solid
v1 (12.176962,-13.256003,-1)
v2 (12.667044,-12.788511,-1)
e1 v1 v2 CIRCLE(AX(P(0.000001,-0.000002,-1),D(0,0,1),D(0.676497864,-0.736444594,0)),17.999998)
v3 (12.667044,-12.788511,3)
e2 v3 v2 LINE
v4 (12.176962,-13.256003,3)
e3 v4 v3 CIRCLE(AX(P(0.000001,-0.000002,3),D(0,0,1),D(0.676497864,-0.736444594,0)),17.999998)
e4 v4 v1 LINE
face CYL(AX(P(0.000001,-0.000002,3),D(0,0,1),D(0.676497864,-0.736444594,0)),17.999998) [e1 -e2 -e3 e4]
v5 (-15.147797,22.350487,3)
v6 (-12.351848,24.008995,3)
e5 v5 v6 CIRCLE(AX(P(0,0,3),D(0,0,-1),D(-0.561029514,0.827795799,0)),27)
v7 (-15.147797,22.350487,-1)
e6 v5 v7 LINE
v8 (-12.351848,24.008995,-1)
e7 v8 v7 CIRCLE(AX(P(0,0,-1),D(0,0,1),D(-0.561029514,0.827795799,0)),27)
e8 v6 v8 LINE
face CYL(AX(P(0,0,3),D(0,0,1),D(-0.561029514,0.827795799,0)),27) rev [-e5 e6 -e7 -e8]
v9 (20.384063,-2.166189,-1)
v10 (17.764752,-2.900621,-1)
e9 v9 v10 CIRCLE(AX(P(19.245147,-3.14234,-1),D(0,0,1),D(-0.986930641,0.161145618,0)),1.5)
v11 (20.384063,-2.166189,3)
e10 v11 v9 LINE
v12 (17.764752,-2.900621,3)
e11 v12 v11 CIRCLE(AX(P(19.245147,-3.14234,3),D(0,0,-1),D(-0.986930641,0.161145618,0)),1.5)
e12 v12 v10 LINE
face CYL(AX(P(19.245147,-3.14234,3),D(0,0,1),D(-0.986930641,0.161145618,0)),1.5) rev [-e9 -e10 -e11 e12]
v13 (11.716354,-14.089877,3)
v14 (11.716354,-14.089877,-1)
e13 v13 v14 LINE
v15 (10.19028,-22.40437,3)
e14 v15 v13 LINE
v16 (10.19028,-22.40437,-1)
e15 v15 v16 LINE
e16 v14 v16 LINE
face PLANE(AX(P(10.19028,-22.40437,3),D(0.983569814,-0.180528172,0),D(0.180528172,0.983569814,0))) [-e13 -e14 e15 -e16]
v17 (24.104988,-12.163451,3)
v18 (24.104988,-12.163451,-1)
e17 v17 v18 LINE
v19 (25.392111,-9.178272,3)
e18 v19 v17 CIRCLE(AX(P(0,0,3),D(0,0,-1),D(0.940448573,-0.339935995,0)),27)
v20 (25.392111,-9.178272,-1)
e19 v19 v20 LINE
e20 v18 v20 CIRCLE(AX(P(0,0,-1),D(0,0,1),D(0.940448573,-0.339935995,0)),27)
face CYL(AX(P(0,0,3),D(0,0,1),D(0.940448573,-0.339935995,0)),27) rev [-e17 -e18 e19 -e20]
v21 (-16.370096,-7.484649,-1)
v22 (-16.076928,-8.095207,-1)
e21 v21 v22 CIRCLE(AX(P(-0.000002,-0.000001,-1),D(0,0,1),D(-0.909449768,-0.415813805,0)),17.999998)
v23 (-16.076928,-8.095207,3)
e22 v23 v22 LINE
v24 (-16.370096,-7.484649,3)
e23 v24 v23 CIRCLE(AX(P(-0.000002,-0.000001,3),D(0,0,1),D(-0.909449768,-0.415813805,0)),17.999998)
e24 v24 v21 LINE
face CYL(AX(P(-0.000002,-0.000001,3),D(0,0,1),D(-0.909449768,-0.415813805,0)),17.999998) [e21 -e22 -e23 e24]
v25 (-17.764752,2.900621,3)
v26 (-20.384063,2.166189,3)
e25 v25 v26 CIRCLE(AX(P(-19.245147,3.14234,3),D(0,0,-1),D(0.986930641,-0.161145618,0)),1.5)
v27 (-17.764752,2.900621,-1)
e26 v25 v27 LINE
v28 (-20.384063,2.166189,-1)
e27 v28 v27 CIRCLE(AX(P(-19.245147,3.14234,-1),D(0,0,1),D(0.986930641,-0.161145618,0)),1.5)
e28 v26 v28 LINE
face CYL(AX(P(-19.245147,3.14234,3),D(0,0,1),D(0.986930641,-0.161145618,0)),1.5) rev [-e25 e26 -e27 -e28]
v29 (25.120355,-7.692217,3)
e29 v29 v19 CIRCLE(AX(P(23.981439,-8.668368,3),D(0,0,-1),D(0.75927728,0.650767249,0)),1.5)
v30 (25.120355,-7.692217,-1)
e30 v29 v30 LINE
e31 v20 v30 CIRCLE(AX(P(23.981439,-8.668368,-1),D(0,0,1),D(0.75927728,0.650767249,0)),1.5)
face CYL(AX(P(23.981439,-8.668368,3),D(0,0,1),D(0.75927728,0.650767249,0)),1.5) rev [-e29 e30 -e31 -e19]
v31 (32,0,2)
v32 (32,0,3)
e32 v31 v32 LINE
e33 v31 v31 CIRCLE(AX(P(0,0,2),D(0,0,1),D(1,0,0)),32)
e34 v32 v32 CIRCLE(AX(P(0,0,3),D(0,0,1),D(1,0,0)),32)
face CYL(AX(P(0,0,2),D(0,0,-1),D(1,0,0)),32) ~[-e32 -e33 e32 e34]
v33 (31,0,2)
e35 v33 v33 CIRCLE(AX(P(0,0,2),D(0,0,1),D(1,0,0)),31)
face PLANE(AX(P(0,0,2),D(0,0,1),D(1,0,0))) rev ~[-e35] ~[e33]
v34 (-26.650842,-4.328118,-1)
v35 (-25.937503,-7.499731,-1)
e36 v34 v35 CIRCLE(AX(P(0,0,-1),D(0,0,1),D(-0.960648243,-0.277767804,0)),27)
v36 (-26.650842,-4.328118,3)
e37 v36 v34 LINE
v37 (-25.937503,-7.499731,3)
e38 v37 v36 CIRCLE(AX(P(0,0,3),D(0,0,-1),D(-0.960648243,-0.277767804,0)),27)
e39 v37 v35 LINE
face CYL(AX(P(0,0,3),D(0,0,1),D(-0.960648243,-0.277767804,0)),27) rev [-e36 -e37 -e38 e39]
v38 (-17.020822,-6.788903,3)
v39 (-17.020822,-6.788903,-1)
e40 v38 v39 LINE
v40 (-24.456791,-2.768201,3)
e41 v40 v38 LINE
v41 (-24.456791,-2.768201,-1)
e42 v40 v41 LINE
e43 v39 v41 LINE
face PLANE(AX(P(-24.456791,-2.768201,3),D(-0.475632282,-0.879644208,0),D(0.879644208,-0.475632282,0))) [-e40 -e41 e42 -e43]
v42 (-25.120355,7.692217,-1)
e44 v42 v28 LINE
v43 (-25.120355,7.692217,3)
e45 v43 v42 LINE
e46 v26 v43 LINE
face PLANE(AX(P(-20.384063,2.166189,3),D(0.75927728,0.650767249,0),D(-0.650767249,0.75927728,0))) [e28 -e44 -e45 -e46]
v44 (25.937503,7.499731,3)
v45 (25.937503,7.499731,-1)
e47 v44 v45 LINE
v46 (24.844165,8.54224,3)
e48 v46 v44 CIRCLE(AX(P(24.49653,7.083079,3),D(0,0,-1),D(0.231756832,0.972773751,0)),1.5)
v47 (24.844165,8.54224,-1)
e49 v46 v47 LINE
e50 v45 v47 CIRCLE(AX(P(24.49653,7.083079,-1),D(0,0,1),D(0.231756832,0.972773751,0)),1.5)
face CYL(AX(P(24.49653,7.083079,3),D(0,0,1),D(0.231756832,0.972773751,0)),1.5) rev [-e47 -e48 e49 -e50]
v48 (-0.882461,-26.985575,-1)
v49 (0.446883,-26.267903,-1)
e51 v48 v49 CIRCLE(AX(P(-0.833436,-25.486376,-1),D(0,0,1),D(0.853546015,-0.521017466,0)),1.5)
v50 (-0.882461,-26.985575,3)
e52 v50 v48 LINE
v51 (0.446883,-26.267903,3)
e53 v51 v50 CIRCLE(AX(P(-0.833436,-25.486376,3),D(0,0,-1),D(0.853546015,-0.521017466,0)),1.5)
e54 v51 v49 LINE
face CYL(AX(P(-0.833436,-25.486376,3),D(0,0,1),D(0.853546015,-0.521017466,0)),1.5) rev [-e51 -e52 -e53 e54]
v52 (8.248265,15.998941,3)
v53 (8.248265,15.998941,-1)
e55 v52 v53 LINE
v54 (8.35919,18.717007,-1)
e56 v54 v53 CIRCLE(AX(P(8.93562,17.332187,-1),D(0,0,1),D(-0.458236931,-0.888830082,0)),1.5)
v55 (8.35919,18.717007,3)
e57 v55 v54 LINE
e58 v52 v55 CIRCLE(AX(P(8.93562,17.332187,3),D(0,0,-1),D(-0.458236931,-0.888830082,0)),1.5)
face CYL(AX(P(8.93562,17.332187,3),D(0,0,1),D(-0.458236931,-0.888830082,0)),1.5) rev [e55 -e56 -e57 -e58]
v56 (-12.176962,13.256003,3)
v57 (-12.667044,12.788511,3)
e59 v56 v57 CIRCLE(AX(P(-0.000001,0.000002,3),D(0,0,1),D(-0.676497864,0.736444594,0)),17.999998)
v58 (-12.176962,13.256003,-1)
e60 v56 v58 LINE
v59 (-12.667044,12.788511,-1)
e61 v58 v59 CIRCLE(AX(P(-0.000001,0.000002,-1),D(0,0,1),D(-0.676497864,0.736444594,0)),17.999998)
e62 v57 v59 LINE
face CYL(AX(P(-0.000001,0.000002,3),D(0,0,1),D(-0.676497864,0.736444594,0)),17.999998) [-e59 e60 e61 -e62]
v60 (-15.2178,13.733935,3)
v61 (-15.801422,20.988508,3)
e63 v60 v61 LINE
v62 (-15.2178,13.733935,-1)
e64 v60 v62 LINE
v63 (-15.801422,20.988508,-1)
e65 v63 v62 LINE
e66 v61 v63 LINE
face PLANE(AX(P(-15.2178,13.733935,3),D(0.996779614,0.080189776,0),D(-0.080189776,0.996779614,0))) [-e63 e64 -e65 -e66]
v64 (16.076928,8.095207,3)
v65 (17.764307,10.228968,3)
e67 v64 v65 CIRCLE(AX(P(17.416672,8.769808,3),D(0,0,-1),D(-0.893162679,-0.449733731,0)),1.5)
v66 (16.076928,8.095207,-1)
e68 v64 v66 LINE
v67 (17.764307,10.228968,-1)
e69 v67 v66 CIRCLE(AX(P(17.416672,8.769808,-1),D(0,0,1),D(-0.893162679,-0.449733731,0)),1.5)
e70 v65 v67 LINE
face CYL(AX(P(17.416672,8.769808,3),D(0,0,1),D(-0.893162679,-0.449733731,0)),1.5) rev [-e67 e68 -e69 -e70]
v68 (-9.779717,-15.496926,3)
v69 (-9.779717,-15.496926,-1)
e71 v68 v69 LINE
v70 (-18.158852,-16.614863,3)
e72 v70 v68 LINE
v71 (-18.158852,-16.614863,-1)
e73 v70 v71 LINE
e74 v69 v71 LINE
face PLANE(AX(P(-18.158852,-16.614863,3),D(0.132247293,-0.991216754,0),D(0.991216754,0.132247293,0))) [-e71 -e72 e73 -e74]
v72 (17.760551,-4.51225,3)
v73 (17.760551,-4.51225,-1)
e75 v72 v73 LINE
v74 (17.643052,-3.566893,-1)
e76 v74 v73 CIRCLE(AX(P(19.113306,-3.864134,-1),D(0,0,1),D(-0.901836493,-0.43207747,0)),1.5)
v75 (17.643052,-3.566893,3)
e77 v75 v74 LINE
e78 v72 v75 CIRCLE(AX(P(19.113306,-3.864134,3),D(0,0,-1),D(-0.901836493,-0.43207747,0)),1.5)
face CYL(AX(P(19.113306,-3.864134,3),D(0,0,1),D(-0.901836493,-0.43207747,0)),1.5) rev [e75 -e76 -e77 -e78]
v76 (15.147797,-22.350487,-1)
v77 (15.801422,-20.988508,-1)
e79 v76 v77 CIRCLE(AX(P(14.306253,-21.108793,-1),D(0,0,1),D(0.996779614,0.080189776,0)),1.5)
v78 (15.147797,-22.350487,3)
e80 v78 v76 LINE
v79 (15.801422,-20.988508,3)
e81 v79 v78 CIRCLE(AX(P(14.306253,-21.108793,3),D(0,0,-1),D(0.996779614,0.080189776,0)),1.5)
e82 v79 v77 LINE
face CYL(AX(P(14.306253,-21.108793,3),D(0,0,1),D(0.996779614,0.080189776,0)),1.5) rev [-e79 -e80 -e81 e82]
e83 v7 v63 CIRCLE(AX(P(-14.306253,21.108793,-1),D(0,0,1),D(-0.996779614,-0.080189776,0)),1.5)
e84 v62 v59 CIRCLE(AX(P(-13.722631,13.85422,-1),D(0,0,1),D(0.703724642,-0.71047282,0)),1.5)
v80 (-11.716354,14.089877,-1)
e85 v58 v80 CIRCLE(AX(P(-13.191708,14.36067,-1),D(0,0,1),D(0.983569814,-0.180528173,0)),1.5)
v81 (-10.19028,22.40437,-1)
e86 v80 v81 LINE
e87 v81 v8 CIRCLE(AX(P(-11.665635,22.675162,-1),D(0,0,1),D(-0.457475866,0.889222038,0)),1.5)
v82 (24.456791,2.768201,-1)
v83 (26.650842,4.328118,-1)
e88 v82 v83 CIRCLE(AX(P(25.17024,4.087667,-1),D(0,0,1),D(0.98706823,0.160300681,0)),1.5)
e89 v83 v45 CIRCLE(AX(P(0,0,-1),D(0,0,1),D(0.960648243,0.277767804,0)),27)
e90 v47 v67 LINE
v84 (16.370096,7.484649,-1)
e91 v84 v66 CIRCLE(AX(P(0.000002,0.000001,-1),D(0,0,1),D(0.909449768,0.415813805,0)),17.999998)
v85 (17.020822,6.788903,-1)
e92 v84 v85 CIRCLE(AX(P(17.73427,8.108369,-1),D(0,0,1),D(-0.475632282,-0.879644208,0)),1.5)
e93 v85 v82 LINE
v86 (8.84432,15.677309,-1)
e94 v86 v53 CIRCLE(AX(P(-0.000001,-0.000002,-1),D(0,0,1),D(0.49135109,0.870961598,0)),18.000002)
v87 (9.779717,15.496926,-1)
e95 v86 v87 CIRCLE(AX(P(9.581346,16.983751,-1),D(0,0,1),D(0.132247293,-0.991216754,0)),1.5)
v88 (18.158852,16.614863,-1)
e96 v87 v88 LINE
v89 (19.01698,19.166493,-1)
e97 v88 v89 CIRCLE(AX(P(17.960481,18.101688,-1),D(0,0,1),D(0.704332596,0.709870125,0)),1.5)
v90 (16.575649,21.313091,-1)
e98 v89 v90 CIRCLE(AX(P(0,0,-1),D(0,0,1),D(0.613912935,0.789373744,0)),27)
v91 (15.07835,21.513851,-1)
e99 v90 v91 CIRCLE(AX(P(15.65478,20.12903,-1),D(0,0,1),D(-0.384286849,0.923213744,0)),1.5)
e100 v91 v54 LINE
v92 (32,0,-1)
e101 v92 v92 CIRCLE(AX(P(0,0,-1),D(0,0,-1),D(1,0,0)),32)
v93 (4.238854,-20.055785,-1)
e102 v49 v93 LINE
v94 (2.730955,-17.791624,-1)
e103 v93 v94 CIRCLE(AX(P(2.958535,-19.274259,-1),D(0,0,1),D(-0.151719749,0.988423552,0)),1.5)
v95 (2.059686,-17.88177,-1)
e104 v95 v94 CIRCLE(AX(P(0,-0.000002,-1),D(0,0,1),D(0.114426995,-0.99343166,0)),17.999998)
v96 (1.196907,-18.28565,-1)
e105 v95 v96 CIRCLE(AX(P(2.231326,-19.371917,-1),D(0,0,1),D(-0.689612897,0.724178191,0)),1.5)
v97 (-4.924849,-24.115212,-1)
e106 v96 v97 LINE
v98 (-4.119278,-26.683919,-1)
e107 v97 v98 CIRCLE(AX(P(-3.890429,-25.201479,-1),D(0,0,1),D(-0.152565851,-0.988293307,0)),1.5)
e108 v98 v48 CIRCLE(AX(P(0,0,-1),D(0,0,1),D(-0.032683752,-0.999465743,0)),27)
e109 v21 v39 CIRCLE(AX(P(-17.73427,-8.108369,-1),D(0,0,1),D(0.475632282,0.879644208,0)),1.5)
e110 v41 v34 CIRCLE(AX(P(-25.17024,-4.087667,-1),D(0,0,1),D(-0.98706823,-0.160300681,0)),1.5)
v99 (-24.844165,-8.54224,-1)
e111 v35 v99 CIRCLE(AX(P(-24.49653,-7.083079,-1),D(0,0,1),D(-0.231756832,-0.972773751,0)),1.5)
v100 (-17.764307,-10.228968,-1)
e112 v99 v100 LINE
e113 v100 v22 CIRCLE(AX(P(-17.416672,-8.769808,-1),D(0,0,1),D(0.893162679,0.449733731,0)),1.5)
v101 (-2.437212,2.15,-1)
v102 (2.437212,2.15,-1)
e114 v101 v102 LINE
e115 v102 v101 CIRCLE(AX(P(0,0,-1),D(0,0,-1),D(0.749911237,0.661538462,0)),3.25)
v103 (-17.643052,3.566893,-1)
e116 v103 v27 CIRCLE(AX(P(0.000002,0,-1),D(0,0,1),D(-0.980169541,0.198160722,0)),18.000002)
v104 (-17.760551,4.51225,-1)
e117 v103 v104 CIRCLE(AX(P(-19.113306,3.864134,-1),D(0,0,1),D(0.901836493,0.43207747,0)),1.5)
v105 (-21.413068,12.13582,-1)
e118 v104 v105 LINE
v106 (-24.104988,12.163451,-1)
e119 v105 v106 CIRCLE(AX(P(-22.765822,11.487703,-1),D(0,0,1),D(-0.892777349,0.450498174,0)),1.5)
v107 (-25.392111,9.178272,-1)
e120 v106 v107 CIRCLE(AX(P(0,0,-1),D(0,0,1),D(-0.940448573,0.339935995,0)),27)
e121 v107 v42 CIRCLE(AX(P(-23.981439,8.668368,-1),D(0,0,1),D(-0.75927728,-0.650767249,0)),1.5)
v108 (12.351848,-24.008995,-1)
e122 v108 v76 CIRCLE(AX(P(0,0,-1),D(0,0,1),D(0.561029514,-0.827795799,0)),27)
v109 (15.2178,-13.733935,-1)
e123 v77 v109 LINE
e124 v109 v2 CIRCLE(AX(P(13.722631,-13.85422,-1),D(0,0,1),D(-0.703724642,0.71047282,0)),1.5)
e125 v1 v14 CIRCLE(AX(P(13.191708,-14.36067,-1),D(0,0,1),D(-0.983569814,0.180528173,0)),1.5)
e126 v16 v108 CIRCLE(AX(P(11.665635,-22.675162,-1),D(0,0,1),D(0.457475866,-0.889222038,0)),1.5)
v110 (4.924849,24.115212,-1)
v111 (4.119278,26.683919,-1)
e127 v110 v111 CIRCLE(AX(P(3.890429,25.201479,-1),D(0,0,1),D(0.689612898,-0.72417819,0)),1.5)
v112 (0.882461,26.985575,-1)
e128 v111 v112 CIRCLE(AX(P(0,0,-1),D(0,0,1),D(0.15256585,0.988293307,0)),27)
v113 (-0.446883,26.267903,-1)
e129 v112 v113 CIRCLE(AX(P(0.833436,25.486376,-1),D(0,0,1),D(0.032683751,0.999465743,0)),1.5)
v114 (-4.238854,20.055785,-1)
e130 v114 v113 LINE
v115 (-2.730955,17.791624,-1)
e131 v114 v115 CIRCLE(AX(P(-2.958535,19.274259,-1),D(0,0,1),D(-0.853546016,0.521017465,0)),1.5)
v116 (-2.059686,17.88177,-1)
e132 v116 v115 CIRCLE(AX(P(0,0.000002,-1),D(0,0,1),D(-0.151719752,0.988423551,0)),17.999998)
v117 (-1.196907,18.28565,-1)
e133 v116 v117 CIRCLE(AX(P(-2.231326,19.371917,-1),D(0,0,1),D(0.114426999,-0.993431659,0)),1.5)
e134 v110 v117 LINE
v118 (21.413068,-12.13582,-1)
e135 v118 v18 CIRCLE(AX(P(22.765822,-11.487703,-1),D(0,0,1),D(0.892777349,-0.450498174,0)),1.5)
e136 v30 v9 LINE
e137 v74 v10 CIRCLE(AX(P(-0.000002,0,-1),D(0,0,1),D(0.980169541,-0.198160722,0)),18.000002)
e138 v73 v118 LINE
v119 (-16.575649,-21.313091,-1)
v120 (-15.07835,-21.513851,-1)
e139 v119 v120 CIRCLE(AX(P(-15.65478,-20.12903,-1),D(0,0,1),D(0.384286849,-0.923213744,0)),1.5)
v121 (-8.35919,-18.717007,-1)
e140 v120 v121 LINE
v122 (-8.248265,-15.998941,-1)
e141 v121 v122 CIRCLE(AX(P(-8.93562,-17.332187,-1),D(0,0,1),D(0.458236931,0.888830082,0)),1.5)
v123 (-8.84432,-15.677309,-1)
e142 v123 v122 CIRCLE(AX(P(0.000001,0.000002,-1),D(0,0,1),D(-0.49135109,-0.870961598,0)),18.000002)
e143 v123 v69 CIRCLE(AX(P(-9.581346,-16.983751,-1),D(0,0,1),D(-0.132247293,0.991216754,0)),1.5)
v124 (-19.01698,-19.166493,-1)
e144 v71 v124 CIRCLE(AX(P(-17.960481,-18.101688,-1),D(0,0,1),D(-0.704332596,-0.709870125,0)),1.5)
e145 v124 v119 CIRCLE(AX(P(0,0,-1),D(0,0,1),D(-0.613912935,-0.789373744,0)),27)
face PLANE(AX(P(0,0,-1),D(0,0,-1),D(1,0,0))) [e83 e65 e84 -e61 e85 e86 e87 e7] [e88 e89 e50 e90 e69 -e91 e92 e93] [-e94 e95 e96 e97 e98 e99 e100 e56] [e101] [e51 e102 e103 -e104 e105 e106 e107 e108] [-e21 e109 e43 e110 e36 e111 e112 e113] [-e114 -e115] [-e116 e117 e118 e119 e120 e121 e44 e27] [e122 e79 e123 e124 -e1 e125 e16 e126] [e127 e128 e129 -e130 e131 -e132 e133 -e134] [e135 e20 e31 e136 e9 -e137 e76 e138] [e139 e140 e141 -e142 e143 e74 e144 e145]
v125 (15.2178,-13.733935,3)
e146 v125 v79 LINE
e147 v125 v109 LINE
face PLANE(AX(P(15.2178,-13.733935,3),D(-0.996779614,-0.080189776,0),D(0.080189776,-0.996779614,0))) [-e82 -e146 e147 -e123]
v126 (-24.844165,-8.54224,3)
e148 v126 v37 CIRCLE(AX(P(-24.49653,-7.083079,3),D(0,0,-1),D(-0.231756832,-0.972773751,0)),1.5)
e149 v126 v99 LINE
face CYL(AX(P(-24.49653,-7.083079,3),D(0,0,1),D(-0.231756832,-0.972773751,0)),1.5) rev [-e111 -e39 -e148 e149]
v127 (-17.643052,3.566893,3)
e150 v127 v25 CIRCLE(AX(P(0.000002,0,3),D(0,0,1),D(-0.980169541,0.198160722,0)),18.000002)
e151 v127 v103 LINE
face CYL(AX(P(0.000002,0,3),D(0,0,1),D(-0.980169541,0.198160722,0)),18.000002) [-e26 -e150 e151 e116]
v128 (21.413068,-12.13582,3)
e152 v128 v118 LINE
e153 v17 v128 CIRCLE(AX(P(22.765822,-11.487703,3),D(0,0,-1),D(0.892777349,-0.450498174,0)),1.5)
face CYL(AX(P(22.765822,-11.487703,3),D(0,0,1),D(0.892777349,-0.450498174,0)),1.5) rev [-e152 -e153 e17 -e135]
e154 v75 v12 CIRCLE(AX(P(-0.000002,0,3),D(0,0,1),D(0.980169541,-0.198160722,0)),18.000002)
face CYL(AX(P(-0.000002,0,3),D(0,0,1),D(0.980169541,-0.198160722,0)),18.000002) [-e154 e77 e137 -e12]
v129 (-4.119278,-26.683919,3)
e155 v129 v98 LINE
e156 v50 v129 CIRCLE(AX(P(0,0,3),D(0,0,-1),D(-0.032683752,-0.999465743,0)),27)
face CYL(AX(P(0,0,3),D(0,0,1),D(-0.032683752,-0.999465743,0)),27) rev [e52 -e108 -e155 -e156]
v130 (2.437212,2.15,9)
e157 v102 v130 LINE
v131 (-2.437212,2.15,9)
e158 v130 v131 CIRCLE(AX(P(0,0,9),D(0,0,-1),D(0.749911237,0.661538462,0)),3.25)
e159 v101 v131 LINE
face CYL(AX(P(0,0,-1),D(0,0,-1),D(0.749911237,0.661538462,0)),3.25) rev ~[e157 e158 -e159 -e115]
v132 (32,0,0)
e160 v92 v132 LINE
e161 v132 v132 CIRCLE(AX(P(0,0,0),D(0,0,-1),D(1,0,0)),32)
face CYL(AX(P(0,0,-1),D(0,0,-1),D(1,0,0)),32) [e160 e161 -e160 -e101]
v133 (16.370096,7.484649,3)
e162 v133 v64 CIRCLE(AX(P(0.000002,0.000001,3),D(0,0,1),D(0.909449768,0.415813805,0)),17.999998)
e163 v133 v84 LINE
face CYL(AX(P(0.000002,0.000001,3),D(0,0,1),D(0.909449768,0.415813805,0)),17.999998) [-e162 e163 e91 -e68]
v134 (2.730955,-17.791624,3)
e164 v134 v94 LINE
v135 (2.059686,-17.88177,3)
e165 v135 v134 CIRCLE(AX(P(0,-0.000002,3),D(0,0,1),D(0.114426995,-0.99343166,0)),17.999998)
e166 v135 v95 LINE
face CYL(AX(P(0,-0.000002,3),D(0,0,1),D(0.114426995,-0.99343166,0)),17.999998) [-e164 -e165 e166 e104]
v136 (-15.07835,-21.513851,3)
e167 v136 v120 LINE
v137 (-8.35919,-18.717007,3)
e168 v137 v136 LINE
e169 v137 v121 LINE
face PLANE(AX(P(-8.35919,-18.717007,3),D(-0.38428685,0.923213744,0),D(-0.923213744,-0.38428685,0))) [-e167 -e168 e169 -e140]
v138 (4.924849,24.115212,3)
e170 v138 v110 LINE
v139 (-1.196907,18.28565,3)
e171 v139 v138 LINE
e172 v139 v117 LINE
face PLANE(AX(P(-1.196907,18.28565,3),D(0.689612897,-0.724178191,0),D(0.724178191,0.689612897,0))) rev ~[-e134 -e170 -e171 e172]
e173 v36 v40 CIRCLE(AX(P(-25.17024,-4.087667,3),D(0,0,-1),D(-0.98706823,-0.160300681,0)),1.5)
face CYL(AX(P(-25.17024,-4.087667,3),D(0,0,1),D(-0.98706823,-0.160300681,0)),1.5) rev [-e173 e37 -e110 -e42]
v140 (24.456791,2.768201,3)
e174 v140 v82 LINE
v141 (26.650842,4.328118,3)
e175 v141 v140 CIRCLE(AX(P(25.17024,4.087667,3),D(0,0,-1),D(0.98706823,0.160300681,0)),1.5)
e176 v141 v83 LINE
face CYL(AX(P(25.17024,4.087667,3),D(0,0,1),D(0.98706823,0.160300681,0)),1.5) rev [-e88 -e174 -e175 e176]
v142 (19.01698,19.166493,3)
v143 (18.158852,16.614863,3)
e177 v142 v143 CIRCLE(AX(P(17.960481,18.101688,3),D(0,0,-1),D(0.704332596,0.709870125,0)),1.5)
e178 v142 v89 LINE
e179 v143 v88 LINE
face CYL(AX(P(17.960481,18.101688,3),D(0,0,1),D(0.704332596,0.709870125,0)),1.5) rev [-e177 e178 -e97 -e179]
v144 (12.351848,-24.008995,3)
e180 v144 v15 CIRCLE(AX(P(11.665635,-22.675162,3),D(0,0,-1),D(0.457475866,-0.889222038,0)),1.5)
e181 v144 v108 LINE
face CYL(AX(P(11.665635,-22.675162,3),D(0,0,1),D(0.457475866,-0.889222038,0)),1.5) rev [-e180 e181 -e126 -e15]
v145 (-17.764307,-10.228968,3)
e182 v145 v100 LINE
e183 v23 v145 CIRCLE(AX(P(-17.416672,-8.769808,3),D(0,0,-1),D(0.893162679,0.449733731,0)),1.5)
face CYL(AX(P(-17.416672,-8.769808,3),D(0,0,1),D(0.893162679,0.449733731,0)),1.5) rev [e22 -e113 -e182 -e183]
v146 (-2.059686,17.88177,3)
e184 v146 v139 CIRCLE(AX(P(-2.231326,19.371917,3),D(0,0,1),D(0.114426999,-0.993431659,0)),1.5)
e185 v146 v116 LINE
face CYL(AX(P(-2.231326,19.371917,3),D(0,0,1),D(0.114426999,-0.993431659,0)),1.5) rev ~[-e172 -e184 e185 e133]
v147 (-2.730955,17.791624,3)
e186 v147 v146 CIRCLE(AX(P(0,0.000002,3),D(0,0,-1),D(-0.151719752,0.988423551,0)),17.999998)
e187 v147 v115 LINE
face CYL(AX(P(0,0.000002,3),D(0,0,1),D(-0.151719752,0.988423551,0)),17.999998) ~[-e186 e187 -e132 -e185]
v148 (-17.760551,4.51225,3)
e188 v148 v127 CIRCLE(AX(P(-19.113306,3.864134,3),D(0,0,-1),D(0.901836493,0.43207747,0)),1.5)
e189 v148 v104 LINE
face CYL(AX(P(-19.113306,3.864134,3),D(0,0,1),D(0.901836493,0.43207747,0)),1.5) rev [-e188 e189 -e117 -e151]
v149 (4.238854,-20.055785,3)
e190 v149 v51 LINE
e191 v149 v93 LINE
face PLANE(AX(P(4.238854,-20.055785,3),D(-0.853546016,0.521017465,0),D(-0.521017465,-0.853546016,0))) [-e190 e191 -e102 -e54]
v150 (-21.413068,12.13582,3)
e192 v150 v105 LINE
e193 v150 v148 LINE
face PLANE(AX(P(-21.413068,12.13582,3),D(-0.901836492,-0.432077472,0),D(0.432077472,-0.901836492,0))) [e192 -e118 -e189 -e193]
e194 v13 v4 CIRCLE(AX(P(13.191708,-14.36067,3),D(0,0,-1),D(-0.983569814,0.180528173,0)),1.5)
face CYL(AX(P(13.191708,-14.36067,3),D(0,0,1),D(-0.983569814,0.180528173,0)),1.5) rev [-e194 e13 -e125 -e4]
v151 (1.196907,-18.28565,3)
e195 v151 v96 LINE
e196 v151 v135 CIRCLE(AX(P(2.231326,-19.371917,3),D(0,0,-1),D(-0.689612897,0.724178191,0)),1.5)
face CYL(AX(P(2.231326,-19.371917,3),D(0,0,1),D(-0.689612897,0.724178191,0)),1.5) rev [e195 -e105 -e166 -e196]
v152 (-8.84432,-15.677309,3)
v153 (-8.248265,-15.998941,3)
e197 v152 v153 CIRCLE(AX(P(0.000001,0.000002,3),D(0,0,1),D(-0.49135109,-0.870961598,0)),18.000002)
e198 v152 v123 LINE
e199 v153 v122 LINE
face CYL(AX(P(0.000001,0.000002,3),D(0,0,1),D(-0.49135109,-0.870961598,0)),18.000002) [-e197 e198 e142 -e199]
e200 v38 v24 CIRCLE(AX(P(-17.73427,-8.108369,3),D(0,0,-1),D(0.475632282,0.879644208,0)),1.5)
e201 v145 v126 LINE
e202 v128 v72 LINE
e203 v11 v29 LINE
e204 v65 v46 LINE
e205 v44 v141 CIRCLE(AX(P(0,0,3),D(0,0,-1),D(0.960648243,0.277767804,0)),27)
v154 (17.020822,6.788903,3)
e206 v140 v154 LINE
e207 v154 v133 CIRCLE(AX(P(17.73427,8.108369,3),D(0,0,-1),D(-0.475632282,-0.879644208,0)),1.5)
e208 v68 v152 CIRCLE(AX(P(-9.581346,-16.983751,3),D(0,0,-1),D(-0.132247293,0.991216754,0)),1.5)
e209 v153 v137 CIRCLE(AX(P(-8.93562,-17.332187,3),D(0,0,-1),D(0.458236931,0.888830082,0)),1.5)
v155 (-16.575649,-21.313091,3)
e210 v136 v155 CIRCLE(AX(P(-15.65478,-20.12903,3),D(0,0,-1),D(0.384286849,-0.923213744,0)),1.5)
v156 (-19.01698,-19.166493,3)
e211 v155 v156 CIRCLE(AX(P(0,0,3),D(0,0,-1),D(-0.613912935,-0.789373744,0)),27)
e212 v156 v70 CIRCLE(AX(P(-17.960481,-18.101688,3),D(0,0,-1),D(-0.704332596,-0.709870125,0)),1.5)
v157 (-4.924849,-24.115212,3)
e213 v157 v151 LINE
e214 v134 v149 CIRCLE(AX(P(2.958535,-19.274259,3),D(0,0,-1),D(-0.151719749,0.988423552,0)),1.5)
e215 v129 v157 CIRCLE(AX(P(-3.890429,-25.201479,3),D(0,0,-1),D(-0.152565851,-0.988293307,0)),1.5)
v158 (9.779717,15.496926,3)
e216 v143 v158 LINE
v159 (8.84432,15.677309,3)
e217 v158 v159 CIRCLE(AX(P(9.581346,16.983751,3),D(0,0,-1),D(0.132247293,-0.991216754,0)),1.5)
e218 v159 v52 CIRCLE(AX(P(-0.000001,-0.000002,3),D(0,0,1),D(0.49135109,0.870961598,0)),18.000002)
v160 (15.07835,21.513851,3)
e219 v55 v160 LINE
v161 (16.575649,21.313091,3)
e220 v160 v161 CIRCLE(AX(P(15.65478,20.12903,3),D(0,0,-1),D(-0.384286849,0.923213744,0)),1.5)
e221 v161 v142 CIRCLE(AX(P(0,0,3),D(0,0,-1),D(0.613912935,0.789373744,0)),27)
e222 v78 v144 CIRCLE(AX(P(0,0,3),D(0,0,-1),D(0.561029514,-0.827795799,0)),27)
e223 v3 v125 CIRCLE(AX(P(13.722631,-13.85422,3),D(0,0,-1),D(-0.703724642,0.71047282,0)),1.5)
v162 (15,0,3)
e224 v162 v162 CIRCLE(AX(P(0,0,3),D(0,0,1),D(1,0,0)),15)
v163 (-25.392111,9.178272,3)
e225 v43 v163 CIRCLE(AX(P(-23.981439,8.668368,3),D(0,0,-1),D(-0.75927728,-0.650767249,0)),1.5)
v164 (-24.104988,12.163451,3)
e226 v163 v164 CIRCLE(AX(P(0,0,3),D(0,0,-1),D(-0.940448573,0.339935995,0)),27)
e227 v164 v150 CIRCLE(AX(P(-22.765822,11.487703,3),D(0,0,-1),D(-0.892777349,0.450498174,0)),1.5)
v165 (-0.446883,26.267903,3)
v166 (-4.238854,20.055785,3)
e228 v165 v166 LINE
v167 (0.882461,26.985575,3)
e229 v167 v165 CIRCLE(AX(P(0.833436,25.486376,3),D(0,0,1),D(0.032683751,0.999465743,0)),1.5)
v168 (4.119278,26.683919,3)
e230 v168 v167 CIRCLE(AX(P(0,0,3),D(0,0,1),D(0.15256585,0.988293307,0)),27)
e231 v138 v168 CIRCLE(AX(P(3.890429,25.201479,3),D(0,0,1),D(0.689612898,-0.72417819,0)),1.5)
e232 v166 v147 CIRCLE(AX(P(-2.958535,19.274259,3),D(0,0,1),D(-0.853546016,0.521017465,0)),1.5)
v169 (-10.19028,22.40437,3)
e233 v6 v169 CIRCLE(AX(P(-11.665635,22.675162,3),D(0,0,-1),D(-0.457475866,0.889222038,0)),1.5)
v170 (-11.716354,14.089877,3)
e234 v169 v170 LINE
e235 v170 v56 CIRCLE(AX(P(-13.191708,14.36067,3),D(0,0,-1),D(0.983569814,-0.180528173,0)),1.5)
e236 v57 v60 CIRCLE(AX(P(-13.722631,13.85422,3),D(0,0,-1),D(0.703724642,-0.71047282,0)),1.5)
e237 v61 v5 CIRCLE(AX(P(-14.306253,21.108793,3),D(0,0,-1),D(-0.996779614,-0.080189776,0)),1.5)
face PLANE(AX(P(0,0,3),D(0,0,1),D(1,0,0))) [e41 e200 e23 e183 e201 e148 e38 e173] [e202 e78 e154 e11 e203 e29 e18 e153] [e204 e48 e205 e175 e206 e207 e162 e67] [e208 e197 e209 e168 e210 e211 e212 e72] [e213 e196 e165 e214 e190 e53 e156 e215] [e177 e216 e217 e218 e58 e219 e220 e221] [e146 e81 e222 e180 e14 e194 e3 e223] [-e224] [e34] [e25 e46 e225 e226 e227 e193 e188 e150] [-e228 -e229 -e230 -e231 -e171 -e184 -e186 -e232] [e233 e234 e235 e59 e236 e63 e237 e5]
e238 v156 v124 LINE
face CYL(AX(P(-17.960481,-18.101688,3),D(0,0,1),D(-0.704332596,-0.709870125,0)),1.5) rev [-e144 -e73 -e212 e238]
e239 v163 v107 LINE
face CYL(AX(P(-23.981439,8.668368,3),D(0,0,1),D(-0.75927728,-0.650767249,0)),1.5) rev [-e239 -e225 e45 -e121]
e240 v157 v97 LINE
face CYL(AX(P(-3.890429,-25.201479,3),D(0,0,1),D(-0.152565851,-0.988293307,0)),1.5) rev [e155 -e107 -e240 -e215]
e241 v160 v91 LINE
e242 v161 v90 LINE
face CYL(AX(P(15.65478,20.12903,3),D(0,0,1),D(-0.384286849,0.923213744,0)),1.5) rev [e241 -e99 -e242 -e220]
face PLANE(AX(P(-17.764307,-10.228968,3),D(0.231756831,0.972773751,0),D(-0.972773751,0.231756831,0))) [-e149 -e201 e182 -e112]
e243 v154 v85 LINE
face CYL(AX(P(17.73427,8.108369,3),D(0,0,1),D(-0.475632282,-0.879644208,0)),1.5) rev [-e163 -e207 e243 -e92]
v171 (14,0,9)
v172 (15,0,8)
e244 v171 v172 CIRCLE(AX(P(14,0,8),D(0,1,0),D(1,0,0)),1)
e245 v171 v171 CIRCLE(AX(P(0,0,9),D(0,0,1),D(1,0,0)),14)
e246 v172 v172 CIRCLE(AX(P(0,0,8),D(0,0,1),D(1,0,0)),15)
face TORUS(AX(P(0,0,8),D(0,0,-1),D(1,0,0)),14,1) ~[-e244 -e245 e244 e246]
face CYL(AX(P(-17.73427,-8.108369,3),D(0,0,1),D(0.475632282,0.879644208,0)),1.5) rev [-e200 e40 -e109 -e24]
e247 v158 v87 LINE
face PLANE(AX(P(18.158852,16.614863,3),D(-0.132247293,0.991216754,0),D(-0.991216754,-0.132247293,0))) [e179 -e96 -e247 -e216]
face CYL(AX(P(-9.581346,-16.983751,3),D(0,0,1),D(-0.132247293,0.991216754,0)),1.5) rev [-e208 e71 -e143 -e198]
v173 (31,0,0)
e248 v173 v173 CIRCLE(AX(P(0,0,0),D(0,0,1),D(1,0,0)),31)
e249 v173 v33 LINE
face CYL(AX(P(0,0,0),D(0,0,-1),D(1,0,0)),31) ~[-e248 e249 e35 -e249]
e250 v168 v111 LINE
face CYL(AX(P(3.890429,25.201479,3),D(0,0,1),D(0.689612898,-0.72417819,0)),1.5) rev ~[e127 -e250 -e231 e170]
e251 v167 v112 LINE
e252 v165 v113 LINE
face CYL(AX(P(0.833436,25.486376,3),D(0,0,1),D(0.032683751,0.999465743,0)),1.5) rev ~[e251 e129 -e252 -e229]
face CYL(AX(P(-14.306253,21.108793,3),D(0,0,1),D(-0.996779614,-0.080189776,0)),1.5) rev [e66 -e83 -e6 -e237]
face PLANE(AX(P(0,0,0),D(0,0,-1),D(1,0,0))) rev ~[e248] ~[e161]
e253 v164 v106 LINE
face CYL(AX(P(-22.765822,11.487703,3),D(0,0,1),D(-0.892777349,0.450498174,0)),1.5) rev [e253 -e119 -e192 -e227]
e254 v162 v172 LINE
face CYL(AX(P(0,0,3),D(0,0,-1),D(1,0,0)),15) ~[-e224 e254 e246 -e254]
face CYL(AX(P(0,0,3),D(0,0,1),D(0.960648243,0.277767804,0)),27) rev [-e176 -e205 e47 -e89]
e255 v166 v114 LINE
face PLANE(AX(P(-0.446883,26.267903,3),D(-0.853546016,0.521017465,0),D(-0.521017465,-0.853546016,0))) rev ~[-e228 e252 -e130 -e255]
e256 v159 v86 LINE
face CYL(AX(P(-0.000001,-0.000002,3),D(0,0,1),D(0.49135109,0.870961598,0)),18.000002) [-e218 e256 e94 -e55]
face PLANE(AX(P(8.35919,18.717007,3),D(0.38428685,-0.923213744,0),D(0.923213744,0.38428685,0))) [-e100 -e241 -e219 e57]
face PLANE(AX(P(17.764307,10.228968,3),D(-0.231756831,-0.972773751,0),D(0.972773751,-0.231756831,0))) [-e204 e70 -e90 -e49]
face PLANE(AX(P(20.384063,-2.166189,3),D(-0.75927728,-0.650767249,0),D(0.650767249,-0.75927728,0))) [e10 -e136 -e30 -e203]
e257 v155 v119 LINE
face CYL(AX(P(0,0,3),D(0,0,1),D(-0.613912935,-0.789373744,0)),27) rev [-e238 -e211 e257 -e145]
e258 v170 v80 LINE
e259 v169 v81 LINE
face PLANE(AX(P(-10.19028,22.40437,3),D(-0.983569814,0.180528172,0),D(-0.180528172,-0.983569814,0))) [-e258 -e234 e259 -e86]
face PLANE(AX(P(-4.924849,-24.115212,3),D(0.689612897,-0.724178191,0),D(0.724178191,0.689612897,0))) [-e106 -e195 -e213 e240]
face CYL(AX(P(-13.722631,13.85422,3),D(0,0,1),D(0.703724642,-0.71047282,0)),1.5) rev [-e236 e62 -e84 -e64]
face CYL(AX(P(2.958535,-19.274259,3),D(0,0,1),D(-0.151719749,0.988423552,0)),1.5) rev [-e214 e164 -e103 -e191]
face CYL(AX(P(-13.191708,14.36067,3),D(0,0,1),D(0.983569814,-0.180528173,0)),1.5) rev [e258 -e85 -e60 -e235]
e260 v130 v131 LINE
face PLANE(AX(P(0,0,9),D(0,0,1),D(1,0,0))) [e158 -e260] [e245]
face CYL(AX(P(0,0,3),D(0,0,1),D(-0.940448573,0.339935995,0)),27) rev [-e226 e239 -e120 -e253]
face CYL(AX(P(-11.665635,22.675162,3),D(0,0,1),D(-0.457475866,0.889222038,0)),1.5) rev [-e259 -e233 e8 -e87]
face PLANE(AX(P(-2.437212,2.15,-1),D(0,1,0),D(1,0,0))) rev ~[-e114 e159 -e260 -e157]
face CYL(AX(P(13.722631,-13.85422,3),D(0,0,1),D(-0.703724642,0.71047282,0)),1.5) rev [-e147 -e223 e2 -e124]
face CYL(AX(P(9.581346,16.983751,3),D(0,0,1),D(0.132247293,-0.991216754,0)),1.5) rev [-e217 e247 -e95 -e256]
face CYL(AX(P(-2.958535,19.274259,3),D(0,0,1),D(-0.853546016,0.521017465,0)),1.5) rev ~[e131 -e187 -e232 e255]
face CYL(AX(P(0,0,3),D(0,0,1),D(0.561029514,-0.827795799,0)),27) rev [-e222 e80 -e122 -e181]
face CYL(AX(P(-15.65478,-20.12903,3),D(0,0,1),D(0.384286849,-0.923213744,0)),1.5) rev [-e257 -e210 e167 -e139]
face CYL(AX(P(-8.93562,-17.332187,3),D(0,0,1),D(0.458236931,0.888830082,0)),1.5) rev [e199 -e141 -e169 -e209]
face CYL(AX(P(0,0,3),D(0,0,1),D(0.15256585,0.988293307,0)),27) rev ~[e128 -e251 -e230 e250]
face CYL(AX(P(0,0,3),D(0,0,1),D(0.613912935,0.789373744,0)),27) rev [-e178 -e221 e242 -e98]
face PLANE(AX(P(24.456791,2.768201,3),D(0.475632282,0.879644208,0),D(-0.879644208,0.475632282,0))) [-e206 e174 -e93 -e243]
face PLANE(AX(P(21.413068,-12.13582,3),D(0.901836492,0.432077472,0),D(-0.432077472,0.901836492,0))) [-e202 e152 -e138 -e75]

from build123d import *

# Parameters (mm, degrees)
SKETCH_1_R          = 31
EXTRUDE_2_DEPTH     = 2
SKETCH_2_R          = 32
EXTRUDE_3_DEPTH     = 1
EXTRUDE_START       = 1
SKETCH_3_R          = 32
EXTRUDE_4_DEPTH     = 1
SKETCH_6_R          = 15
EXTRUDE_6_DEPTH     = 6
CUT_EXTRUDE_4_DEPTH = 47.346520905
CUT_EXTRUDE_5_DEPTH = 46.650848842
FILLET_1_R          = 1


with BuildPart() as part:
    # Эскиз1 → Бобышка-Вытянуть2 (new body)
    with BuildSketch(Plane.XY):
        Circle(SKETCH_1_R)
    extrude(amount=EXTRUDE_2_DEPTH)

    # Эскиз2 → Бобышка-Вытянуть3 (add)
    with BuildSketch(Plane.XY.offset(2)):
        Circle(SKETCH_2_R)
    extrude(amount=EXTRUDE_3_DEPTH)

    # Эскиз3 → Бобышка-Вытянуть4 (add)
    with BuildSketch(Plane(origin=(0, 0, 0), x_dir=(-1, 0, 0), z_dir=(0, 0, -1)).offset(EXTRUDE_START)):
        with Locations(Location((0, 0, 0), (0, 0, 180))):
            Circle(SKETCH_3_R)
    extrude(amount=-EXTRUDE_4_DEPTH)

    # Эскиз6 → Бобышка-Вытянуть6 (add)
    with BuildSketch(Plane.XY.offset(3)):
        Circle(SKETCH_6_R)
    extrude(amount=EXTRUDE_6_DEPTH)

    # Эскиз4 → Вырез-Вытянуть4 (cut, through all)
    with BuildSketch(Plane(origin=(0, 0, -1), x_dir=(-1, 0, 0), z_dir=(0, 0, -1))):
        with BuildLine():
            Line((2.437211521, 2.15), (-2.437211521, 2.15))
            ThreePointArc((-2.437211521, 2.15), (0, -3.25), (2.437211521, 2.15))
        make_face()
    extrude(amount=-CUT_EXTRUDE_4_DEPTH, mode=Mode.SUBTRACT)

    # Эскиз7 → Вырез-Вытянуть5 (cut, through all)
    with BuildSketch(Plane.XY.offset(3)):
        with BuildLine():
            Line((-1.196907114, 18.285650075), (4.924848525, 24.115212052))
            ThreePointArc((4.924848525, 24.115212052), (5.321696385, 25.650338094), (4.119277954, 26.683919299))
            ThreePointArc((4.119277954, 26.683919299), (2.505413728, 26.883506134), (0.882461302, 26.985575074))
            ThreePointArc((0.882461302, 26.985575074), (0.120845833, 26.806306653), (-0.446883349, 26.267902657))
            Line((-0.446883349, 26.267902657), (-4.238854139, 20.055785457))
            ThreePointArc((-4.238854139, 20.055785457), (-4.207002942, 18.442797843), (-2.730955491, 17.791623931))
            ThreePointArc((-2.730955491, 17.791623931), (-2.395744761, 17.839854457), (-2.059685964, 17.881769871))
            ThreePointArc((-2.059685964, 17.881769871), (-1.595382366, 18.013397906), (-1.196907114, 18.285650075))
        make_face()
        with BuildLine():
            Line((8.35918988, 18.717007219), (15.078349566, 21.513851098))
            ThreePointArc((15.078349566, 21.513851098), (15.854118052, 21.61572624), (16.575649243, 21.313091099))
            ThreePointArc((16.575649243, 21.313091099), (17.828650719, 20.276568091), (19.016980106, 19.166493358))
            ThreePointArc((19.016980106, 19.166493358), (19.382233263, 17.623544777), (18.158852151, 16.61486304))
            Line((18.158852151, 16.61486304), (9.779717246, 15.496926014))
            ThreePointArc((9.779717246, 15.496926014), (9.297318186, 15.510887259), (8.844319668, 15.677308749))
            ThreePointArc((8.844319668, 15.677308749), (8.547805127, 15.840928871), (8.248264758, 15.99894148))
            ThreePointArc((8.248264758, 15.99894148), (7.436867708, 17.393351165), (8.35918988, 18.717007219))
        make_face()
        with BuildLine():
            Line((17.764307483, 10.228968392), (24.844165441, 8.542239649))
            ThreePointArc((24.844165441, 8.542239649), (25.531656036, 8.168673095), (25.937502559, 7.499730729))
            ThreePointArc((25.937502559, 7.499730729), (26.341949109, 5.924670212), (26.650842222, 4.328118399))
            ThreePointArc((26.650842222, 4.328118399), (26.039415812, 2.865156358), (24.456791453, 2.768201066))
            Line((24.456791453, 2.768201066), (17.020822019, 6.788902937))
            ThreePointArc((17.020822019, 6.788902937), (16.638759195, 7.083744875), (16.370095793, 7.484648537))
            ThreePointArc((16.370095793, 7.484648537), (16.226383986, 7.791306871), (16.076928218, 8.095207168))
            ThreePointArc((16.076928218, 8.095207168), (16.240107663, 9.700235519), (17.764307483, 10.228968392))
        make_face()
        with BuildLine():
            Line((20.384063414, -2.166188691), (25.12035454, -7.692217006))
            ThreePointArc((25.12035454, -7.692217006), (25.456969204, -8.398535529), (25.392111481, -9.178271872))
            ThreePointArc((25.392111481, -9.178271872), (24.79351827, -10.690250315), (24.104988437, -12.16345068))
            ThreePointArc((24.104988437, -12.16345068), (22.750426568, -12.987624407), (21.413067675, -12.135819628))
            Line((21.413067675, -12.135819628), (17.760551297, -4.512250316))
            ThreePointArc((17.760551297, -4.512250316), (17.624759723, -4.049147284), (17.643051725, -3.566893022))
            ThreePointArc((17.643051725, -3.566893022), (17.707035676, -3.234329538), (17.764751533, -2.900621137))
            ThreePointArc((17.764751533, -2.900621137), (18.840178472, -1.698040395), (20.384063414, -2.166188691))
        make_face()
        with BuildLine():
            Line((15.21779995, -13.733935321), (15.801422014, -20.988508213))
            ThreePointArc((15.801422014, -20.988508213), (15.658585386, -21.757789037), (15.147796863, -22.350486576))
            ThreePointArc((15.147796863, -22.350486576), (13.774806152, -23.221858571), (12.351848368, -24.00899502))
            ThreePointArc((12.351848368, -24.00899502), (10.771547634, -23.879574082), (10.190279849, -22.404369706))
            Line((10.190279849, -22.404369706), (11.716353639, -14.089877314))
            ThreePointArc((11.716353639, -14.089877314), (11.87870108, -13.635402806), (12.176961563, -13.256002682))
            ThreePointArc((12.176961563, -13.256002682), (12.424201579, -13.024561994), (12.667043564, -12.788510755))
            ThreePointArc((12.667043564, -12.788510755), (14.243941459, -12.447722593), (15.21779995, -13.733935321))
        make_face()
        with BuildLine():
            Line((4.238854139, -20.055785457), (0.446883349, -26.267902657))
            ThreePointArc((0.446883349, -26.267902657), (-0.120845833, -26.806306653), (-0.882461302, -26.985575074))
            ThreePointArc((-0.882461302, -26.985575074), (-2.505413728, -26.883506134), (-4.119277954, -26.683919299))
            ThreePointArc((-4.119277954, -26.683919299), (-5.321696385, -25.650338094), (-4.924848525, -24.115212052))
            Line((-4.924848525, -24.115212052), (1.196907114, -18.285650075))
            ThreePointArc((1.196907114, -18.285650075), (1.595382366, -18.013397906), (2.059685964, -17.881769871))
            ThreePointArc((2.059685964, -17.881769871), (2.395744761, -17.839854457), (2.730955491, -17.791623931))
            ThreePointArc((2.730955491, -17.791623931), (4.207002942, -18.442797843), (4.238854139, -20.055785457))
        make_face()
        with BuildLine():
            Line((-8.35918988, -18.717007219), (-15.078349566, -21.513851098))
            ThreePointArc((-15.078349566, -21.513851098), (-15.854118052, -21.61572624), (-16.575649243, -21.313091099))
            ThreePointArc((-16.575649243, -21.313091099), (-17.828650719, -20.276568091), (-19.016980106, -19.166493358))
            ThreePointArc((-19.016980106, -19.166493358), (-19.382233263, -17.623544777), (-18.158852151, -16.61486304))
            Line((-18.158852151, -16.61486304), (-9.779717246, -15.496926014))
            ThreePointArc((-9.779717246, -15.496926014), (-9.297318186, -15.510887259), (-8.844319668, -15.677308749))
            ThreePointArc((-8.844319668, -15.677308749), (-8.547805127, -15.840928871), (-8.248264758, -15.99894148))
            ThreePointArc((-8.248264758, -15.99894148), (-7.436867708, -17.393351165), (-8.35918988, -18.717007219))
        make_face()
        with BuildLine():
            Line((-17.764307483, -10.228968392), (-24.844165441, -8.542239649))
            ThreePointArc((-24.844165441, -8.542239649), (-25.531656036, -8.168673095), (-25.937502559, -7.499730729))
            ThreePointArc((-25.937502559, -7.499730729), (-26.341949109, -5.924670212), (-26.650842222, -4.328118399))
            ThreePointArc((-26.650842222, -4.328118399), (-26.039415812, -2.865156358), (-24.456791453, -2.768201066))
            Line((-24.456791453, -2.768201066), (-17.020822019, -6.788902937))
            ThreePointArc((-17.020822019, -6.788902937), (-16.638759195, -7.083744875), (-16.370095793, -7.484648537))
            ThreePointArc((-16.370095793, -7.484648537), (-16.226383986, -7.791306871), (-16.076928218, -8.095207168))
            ThreePointArc((-16.076928218, -8.095207168), (-16.240107663, -9.700235519), (-17.764307483, -10.228968392))
        make_face()
        with BuildLine():
            Line((-20.384063414, 2.166188691), (-25.12035454, 7.692217006))
            ThreePointArc((-25.12035454, 7.692217006), (-25.456969204, 8.398535529), (-25.392111481, 9.178271872))
            ThreePointArc((-25.392111481, 9.178271872), (-24.79351827, 10.690250315), (-24.104988437, 12.16345068))
            ThreePointArc((-24.104988437, 12.16345068), (-22.750426568, 12.987624407), (-21.413067675, 12.135819628))
            Line((-21.413067675, 12.135819628), (-17.760551297, 4.512250316))
            ThreePointArc((-17.760551297, 4.512250316), (-17.624759723, 4.049147284), (-17.643051725, 3.566893022))
            ThreePointArc((-17.643051725, 3.566893022), (-17.707035676, 3.234329538), (-17.764751533, 2.900621137))
            ThreePointArc((-17.764751533, 2.900621137), (-18.840178472, 1.698040395), (-20.384063414, 2.166188691))
        make_face()
        with BuildLine():
            Line((-15.21779995, 13.733935321), (-15.801422014, 20.988508213))
            ThreePointArc((-15.801422014, 20.988508213), (-15.658585386, 21.757789037), (-15.147796863, 22.350486576))
            ThreePointArc((-15.147796863, 22.350486576), (-13.774806152, 23.221858571), (-12.351848368, 24.00899502))
            ThreePointArc((-12.351848368, 24.00899502), (-10.771547634, 23.879574082), (-10.190279849, 22.404369706))
            Line((-10.190279849, 22.404369706), (-11.716353639, 14.089877314))
            ThreePointArc((-11.716353639, 14.089877314), (-11.87870108, 13.635402806), (-12.176961563, 13.256002682))
            ThreePointArc((-12.176961563, 13.256002682), (-12.424201579, 13.024561994), (-12.667043564, 12.788510755))
            ThreePointArc((-12.667043564, 12.788510755), (-14.243941459, 12.447722593), (-15.21779995, 13.733935321))
        make_face()
    extrude(amount=-CUT_EXTRUDE_5_DEPTH, mode=Mode.SUBTRACT)

    # Скругление1
    fillet_1_edges = [part.edges().sort_by_distance(p)[0] for p in [
        (-15, 0, 9),
    ]]
    fillet(fillet_1_edges, radius=FILLET_1_R)


solid = part.part
